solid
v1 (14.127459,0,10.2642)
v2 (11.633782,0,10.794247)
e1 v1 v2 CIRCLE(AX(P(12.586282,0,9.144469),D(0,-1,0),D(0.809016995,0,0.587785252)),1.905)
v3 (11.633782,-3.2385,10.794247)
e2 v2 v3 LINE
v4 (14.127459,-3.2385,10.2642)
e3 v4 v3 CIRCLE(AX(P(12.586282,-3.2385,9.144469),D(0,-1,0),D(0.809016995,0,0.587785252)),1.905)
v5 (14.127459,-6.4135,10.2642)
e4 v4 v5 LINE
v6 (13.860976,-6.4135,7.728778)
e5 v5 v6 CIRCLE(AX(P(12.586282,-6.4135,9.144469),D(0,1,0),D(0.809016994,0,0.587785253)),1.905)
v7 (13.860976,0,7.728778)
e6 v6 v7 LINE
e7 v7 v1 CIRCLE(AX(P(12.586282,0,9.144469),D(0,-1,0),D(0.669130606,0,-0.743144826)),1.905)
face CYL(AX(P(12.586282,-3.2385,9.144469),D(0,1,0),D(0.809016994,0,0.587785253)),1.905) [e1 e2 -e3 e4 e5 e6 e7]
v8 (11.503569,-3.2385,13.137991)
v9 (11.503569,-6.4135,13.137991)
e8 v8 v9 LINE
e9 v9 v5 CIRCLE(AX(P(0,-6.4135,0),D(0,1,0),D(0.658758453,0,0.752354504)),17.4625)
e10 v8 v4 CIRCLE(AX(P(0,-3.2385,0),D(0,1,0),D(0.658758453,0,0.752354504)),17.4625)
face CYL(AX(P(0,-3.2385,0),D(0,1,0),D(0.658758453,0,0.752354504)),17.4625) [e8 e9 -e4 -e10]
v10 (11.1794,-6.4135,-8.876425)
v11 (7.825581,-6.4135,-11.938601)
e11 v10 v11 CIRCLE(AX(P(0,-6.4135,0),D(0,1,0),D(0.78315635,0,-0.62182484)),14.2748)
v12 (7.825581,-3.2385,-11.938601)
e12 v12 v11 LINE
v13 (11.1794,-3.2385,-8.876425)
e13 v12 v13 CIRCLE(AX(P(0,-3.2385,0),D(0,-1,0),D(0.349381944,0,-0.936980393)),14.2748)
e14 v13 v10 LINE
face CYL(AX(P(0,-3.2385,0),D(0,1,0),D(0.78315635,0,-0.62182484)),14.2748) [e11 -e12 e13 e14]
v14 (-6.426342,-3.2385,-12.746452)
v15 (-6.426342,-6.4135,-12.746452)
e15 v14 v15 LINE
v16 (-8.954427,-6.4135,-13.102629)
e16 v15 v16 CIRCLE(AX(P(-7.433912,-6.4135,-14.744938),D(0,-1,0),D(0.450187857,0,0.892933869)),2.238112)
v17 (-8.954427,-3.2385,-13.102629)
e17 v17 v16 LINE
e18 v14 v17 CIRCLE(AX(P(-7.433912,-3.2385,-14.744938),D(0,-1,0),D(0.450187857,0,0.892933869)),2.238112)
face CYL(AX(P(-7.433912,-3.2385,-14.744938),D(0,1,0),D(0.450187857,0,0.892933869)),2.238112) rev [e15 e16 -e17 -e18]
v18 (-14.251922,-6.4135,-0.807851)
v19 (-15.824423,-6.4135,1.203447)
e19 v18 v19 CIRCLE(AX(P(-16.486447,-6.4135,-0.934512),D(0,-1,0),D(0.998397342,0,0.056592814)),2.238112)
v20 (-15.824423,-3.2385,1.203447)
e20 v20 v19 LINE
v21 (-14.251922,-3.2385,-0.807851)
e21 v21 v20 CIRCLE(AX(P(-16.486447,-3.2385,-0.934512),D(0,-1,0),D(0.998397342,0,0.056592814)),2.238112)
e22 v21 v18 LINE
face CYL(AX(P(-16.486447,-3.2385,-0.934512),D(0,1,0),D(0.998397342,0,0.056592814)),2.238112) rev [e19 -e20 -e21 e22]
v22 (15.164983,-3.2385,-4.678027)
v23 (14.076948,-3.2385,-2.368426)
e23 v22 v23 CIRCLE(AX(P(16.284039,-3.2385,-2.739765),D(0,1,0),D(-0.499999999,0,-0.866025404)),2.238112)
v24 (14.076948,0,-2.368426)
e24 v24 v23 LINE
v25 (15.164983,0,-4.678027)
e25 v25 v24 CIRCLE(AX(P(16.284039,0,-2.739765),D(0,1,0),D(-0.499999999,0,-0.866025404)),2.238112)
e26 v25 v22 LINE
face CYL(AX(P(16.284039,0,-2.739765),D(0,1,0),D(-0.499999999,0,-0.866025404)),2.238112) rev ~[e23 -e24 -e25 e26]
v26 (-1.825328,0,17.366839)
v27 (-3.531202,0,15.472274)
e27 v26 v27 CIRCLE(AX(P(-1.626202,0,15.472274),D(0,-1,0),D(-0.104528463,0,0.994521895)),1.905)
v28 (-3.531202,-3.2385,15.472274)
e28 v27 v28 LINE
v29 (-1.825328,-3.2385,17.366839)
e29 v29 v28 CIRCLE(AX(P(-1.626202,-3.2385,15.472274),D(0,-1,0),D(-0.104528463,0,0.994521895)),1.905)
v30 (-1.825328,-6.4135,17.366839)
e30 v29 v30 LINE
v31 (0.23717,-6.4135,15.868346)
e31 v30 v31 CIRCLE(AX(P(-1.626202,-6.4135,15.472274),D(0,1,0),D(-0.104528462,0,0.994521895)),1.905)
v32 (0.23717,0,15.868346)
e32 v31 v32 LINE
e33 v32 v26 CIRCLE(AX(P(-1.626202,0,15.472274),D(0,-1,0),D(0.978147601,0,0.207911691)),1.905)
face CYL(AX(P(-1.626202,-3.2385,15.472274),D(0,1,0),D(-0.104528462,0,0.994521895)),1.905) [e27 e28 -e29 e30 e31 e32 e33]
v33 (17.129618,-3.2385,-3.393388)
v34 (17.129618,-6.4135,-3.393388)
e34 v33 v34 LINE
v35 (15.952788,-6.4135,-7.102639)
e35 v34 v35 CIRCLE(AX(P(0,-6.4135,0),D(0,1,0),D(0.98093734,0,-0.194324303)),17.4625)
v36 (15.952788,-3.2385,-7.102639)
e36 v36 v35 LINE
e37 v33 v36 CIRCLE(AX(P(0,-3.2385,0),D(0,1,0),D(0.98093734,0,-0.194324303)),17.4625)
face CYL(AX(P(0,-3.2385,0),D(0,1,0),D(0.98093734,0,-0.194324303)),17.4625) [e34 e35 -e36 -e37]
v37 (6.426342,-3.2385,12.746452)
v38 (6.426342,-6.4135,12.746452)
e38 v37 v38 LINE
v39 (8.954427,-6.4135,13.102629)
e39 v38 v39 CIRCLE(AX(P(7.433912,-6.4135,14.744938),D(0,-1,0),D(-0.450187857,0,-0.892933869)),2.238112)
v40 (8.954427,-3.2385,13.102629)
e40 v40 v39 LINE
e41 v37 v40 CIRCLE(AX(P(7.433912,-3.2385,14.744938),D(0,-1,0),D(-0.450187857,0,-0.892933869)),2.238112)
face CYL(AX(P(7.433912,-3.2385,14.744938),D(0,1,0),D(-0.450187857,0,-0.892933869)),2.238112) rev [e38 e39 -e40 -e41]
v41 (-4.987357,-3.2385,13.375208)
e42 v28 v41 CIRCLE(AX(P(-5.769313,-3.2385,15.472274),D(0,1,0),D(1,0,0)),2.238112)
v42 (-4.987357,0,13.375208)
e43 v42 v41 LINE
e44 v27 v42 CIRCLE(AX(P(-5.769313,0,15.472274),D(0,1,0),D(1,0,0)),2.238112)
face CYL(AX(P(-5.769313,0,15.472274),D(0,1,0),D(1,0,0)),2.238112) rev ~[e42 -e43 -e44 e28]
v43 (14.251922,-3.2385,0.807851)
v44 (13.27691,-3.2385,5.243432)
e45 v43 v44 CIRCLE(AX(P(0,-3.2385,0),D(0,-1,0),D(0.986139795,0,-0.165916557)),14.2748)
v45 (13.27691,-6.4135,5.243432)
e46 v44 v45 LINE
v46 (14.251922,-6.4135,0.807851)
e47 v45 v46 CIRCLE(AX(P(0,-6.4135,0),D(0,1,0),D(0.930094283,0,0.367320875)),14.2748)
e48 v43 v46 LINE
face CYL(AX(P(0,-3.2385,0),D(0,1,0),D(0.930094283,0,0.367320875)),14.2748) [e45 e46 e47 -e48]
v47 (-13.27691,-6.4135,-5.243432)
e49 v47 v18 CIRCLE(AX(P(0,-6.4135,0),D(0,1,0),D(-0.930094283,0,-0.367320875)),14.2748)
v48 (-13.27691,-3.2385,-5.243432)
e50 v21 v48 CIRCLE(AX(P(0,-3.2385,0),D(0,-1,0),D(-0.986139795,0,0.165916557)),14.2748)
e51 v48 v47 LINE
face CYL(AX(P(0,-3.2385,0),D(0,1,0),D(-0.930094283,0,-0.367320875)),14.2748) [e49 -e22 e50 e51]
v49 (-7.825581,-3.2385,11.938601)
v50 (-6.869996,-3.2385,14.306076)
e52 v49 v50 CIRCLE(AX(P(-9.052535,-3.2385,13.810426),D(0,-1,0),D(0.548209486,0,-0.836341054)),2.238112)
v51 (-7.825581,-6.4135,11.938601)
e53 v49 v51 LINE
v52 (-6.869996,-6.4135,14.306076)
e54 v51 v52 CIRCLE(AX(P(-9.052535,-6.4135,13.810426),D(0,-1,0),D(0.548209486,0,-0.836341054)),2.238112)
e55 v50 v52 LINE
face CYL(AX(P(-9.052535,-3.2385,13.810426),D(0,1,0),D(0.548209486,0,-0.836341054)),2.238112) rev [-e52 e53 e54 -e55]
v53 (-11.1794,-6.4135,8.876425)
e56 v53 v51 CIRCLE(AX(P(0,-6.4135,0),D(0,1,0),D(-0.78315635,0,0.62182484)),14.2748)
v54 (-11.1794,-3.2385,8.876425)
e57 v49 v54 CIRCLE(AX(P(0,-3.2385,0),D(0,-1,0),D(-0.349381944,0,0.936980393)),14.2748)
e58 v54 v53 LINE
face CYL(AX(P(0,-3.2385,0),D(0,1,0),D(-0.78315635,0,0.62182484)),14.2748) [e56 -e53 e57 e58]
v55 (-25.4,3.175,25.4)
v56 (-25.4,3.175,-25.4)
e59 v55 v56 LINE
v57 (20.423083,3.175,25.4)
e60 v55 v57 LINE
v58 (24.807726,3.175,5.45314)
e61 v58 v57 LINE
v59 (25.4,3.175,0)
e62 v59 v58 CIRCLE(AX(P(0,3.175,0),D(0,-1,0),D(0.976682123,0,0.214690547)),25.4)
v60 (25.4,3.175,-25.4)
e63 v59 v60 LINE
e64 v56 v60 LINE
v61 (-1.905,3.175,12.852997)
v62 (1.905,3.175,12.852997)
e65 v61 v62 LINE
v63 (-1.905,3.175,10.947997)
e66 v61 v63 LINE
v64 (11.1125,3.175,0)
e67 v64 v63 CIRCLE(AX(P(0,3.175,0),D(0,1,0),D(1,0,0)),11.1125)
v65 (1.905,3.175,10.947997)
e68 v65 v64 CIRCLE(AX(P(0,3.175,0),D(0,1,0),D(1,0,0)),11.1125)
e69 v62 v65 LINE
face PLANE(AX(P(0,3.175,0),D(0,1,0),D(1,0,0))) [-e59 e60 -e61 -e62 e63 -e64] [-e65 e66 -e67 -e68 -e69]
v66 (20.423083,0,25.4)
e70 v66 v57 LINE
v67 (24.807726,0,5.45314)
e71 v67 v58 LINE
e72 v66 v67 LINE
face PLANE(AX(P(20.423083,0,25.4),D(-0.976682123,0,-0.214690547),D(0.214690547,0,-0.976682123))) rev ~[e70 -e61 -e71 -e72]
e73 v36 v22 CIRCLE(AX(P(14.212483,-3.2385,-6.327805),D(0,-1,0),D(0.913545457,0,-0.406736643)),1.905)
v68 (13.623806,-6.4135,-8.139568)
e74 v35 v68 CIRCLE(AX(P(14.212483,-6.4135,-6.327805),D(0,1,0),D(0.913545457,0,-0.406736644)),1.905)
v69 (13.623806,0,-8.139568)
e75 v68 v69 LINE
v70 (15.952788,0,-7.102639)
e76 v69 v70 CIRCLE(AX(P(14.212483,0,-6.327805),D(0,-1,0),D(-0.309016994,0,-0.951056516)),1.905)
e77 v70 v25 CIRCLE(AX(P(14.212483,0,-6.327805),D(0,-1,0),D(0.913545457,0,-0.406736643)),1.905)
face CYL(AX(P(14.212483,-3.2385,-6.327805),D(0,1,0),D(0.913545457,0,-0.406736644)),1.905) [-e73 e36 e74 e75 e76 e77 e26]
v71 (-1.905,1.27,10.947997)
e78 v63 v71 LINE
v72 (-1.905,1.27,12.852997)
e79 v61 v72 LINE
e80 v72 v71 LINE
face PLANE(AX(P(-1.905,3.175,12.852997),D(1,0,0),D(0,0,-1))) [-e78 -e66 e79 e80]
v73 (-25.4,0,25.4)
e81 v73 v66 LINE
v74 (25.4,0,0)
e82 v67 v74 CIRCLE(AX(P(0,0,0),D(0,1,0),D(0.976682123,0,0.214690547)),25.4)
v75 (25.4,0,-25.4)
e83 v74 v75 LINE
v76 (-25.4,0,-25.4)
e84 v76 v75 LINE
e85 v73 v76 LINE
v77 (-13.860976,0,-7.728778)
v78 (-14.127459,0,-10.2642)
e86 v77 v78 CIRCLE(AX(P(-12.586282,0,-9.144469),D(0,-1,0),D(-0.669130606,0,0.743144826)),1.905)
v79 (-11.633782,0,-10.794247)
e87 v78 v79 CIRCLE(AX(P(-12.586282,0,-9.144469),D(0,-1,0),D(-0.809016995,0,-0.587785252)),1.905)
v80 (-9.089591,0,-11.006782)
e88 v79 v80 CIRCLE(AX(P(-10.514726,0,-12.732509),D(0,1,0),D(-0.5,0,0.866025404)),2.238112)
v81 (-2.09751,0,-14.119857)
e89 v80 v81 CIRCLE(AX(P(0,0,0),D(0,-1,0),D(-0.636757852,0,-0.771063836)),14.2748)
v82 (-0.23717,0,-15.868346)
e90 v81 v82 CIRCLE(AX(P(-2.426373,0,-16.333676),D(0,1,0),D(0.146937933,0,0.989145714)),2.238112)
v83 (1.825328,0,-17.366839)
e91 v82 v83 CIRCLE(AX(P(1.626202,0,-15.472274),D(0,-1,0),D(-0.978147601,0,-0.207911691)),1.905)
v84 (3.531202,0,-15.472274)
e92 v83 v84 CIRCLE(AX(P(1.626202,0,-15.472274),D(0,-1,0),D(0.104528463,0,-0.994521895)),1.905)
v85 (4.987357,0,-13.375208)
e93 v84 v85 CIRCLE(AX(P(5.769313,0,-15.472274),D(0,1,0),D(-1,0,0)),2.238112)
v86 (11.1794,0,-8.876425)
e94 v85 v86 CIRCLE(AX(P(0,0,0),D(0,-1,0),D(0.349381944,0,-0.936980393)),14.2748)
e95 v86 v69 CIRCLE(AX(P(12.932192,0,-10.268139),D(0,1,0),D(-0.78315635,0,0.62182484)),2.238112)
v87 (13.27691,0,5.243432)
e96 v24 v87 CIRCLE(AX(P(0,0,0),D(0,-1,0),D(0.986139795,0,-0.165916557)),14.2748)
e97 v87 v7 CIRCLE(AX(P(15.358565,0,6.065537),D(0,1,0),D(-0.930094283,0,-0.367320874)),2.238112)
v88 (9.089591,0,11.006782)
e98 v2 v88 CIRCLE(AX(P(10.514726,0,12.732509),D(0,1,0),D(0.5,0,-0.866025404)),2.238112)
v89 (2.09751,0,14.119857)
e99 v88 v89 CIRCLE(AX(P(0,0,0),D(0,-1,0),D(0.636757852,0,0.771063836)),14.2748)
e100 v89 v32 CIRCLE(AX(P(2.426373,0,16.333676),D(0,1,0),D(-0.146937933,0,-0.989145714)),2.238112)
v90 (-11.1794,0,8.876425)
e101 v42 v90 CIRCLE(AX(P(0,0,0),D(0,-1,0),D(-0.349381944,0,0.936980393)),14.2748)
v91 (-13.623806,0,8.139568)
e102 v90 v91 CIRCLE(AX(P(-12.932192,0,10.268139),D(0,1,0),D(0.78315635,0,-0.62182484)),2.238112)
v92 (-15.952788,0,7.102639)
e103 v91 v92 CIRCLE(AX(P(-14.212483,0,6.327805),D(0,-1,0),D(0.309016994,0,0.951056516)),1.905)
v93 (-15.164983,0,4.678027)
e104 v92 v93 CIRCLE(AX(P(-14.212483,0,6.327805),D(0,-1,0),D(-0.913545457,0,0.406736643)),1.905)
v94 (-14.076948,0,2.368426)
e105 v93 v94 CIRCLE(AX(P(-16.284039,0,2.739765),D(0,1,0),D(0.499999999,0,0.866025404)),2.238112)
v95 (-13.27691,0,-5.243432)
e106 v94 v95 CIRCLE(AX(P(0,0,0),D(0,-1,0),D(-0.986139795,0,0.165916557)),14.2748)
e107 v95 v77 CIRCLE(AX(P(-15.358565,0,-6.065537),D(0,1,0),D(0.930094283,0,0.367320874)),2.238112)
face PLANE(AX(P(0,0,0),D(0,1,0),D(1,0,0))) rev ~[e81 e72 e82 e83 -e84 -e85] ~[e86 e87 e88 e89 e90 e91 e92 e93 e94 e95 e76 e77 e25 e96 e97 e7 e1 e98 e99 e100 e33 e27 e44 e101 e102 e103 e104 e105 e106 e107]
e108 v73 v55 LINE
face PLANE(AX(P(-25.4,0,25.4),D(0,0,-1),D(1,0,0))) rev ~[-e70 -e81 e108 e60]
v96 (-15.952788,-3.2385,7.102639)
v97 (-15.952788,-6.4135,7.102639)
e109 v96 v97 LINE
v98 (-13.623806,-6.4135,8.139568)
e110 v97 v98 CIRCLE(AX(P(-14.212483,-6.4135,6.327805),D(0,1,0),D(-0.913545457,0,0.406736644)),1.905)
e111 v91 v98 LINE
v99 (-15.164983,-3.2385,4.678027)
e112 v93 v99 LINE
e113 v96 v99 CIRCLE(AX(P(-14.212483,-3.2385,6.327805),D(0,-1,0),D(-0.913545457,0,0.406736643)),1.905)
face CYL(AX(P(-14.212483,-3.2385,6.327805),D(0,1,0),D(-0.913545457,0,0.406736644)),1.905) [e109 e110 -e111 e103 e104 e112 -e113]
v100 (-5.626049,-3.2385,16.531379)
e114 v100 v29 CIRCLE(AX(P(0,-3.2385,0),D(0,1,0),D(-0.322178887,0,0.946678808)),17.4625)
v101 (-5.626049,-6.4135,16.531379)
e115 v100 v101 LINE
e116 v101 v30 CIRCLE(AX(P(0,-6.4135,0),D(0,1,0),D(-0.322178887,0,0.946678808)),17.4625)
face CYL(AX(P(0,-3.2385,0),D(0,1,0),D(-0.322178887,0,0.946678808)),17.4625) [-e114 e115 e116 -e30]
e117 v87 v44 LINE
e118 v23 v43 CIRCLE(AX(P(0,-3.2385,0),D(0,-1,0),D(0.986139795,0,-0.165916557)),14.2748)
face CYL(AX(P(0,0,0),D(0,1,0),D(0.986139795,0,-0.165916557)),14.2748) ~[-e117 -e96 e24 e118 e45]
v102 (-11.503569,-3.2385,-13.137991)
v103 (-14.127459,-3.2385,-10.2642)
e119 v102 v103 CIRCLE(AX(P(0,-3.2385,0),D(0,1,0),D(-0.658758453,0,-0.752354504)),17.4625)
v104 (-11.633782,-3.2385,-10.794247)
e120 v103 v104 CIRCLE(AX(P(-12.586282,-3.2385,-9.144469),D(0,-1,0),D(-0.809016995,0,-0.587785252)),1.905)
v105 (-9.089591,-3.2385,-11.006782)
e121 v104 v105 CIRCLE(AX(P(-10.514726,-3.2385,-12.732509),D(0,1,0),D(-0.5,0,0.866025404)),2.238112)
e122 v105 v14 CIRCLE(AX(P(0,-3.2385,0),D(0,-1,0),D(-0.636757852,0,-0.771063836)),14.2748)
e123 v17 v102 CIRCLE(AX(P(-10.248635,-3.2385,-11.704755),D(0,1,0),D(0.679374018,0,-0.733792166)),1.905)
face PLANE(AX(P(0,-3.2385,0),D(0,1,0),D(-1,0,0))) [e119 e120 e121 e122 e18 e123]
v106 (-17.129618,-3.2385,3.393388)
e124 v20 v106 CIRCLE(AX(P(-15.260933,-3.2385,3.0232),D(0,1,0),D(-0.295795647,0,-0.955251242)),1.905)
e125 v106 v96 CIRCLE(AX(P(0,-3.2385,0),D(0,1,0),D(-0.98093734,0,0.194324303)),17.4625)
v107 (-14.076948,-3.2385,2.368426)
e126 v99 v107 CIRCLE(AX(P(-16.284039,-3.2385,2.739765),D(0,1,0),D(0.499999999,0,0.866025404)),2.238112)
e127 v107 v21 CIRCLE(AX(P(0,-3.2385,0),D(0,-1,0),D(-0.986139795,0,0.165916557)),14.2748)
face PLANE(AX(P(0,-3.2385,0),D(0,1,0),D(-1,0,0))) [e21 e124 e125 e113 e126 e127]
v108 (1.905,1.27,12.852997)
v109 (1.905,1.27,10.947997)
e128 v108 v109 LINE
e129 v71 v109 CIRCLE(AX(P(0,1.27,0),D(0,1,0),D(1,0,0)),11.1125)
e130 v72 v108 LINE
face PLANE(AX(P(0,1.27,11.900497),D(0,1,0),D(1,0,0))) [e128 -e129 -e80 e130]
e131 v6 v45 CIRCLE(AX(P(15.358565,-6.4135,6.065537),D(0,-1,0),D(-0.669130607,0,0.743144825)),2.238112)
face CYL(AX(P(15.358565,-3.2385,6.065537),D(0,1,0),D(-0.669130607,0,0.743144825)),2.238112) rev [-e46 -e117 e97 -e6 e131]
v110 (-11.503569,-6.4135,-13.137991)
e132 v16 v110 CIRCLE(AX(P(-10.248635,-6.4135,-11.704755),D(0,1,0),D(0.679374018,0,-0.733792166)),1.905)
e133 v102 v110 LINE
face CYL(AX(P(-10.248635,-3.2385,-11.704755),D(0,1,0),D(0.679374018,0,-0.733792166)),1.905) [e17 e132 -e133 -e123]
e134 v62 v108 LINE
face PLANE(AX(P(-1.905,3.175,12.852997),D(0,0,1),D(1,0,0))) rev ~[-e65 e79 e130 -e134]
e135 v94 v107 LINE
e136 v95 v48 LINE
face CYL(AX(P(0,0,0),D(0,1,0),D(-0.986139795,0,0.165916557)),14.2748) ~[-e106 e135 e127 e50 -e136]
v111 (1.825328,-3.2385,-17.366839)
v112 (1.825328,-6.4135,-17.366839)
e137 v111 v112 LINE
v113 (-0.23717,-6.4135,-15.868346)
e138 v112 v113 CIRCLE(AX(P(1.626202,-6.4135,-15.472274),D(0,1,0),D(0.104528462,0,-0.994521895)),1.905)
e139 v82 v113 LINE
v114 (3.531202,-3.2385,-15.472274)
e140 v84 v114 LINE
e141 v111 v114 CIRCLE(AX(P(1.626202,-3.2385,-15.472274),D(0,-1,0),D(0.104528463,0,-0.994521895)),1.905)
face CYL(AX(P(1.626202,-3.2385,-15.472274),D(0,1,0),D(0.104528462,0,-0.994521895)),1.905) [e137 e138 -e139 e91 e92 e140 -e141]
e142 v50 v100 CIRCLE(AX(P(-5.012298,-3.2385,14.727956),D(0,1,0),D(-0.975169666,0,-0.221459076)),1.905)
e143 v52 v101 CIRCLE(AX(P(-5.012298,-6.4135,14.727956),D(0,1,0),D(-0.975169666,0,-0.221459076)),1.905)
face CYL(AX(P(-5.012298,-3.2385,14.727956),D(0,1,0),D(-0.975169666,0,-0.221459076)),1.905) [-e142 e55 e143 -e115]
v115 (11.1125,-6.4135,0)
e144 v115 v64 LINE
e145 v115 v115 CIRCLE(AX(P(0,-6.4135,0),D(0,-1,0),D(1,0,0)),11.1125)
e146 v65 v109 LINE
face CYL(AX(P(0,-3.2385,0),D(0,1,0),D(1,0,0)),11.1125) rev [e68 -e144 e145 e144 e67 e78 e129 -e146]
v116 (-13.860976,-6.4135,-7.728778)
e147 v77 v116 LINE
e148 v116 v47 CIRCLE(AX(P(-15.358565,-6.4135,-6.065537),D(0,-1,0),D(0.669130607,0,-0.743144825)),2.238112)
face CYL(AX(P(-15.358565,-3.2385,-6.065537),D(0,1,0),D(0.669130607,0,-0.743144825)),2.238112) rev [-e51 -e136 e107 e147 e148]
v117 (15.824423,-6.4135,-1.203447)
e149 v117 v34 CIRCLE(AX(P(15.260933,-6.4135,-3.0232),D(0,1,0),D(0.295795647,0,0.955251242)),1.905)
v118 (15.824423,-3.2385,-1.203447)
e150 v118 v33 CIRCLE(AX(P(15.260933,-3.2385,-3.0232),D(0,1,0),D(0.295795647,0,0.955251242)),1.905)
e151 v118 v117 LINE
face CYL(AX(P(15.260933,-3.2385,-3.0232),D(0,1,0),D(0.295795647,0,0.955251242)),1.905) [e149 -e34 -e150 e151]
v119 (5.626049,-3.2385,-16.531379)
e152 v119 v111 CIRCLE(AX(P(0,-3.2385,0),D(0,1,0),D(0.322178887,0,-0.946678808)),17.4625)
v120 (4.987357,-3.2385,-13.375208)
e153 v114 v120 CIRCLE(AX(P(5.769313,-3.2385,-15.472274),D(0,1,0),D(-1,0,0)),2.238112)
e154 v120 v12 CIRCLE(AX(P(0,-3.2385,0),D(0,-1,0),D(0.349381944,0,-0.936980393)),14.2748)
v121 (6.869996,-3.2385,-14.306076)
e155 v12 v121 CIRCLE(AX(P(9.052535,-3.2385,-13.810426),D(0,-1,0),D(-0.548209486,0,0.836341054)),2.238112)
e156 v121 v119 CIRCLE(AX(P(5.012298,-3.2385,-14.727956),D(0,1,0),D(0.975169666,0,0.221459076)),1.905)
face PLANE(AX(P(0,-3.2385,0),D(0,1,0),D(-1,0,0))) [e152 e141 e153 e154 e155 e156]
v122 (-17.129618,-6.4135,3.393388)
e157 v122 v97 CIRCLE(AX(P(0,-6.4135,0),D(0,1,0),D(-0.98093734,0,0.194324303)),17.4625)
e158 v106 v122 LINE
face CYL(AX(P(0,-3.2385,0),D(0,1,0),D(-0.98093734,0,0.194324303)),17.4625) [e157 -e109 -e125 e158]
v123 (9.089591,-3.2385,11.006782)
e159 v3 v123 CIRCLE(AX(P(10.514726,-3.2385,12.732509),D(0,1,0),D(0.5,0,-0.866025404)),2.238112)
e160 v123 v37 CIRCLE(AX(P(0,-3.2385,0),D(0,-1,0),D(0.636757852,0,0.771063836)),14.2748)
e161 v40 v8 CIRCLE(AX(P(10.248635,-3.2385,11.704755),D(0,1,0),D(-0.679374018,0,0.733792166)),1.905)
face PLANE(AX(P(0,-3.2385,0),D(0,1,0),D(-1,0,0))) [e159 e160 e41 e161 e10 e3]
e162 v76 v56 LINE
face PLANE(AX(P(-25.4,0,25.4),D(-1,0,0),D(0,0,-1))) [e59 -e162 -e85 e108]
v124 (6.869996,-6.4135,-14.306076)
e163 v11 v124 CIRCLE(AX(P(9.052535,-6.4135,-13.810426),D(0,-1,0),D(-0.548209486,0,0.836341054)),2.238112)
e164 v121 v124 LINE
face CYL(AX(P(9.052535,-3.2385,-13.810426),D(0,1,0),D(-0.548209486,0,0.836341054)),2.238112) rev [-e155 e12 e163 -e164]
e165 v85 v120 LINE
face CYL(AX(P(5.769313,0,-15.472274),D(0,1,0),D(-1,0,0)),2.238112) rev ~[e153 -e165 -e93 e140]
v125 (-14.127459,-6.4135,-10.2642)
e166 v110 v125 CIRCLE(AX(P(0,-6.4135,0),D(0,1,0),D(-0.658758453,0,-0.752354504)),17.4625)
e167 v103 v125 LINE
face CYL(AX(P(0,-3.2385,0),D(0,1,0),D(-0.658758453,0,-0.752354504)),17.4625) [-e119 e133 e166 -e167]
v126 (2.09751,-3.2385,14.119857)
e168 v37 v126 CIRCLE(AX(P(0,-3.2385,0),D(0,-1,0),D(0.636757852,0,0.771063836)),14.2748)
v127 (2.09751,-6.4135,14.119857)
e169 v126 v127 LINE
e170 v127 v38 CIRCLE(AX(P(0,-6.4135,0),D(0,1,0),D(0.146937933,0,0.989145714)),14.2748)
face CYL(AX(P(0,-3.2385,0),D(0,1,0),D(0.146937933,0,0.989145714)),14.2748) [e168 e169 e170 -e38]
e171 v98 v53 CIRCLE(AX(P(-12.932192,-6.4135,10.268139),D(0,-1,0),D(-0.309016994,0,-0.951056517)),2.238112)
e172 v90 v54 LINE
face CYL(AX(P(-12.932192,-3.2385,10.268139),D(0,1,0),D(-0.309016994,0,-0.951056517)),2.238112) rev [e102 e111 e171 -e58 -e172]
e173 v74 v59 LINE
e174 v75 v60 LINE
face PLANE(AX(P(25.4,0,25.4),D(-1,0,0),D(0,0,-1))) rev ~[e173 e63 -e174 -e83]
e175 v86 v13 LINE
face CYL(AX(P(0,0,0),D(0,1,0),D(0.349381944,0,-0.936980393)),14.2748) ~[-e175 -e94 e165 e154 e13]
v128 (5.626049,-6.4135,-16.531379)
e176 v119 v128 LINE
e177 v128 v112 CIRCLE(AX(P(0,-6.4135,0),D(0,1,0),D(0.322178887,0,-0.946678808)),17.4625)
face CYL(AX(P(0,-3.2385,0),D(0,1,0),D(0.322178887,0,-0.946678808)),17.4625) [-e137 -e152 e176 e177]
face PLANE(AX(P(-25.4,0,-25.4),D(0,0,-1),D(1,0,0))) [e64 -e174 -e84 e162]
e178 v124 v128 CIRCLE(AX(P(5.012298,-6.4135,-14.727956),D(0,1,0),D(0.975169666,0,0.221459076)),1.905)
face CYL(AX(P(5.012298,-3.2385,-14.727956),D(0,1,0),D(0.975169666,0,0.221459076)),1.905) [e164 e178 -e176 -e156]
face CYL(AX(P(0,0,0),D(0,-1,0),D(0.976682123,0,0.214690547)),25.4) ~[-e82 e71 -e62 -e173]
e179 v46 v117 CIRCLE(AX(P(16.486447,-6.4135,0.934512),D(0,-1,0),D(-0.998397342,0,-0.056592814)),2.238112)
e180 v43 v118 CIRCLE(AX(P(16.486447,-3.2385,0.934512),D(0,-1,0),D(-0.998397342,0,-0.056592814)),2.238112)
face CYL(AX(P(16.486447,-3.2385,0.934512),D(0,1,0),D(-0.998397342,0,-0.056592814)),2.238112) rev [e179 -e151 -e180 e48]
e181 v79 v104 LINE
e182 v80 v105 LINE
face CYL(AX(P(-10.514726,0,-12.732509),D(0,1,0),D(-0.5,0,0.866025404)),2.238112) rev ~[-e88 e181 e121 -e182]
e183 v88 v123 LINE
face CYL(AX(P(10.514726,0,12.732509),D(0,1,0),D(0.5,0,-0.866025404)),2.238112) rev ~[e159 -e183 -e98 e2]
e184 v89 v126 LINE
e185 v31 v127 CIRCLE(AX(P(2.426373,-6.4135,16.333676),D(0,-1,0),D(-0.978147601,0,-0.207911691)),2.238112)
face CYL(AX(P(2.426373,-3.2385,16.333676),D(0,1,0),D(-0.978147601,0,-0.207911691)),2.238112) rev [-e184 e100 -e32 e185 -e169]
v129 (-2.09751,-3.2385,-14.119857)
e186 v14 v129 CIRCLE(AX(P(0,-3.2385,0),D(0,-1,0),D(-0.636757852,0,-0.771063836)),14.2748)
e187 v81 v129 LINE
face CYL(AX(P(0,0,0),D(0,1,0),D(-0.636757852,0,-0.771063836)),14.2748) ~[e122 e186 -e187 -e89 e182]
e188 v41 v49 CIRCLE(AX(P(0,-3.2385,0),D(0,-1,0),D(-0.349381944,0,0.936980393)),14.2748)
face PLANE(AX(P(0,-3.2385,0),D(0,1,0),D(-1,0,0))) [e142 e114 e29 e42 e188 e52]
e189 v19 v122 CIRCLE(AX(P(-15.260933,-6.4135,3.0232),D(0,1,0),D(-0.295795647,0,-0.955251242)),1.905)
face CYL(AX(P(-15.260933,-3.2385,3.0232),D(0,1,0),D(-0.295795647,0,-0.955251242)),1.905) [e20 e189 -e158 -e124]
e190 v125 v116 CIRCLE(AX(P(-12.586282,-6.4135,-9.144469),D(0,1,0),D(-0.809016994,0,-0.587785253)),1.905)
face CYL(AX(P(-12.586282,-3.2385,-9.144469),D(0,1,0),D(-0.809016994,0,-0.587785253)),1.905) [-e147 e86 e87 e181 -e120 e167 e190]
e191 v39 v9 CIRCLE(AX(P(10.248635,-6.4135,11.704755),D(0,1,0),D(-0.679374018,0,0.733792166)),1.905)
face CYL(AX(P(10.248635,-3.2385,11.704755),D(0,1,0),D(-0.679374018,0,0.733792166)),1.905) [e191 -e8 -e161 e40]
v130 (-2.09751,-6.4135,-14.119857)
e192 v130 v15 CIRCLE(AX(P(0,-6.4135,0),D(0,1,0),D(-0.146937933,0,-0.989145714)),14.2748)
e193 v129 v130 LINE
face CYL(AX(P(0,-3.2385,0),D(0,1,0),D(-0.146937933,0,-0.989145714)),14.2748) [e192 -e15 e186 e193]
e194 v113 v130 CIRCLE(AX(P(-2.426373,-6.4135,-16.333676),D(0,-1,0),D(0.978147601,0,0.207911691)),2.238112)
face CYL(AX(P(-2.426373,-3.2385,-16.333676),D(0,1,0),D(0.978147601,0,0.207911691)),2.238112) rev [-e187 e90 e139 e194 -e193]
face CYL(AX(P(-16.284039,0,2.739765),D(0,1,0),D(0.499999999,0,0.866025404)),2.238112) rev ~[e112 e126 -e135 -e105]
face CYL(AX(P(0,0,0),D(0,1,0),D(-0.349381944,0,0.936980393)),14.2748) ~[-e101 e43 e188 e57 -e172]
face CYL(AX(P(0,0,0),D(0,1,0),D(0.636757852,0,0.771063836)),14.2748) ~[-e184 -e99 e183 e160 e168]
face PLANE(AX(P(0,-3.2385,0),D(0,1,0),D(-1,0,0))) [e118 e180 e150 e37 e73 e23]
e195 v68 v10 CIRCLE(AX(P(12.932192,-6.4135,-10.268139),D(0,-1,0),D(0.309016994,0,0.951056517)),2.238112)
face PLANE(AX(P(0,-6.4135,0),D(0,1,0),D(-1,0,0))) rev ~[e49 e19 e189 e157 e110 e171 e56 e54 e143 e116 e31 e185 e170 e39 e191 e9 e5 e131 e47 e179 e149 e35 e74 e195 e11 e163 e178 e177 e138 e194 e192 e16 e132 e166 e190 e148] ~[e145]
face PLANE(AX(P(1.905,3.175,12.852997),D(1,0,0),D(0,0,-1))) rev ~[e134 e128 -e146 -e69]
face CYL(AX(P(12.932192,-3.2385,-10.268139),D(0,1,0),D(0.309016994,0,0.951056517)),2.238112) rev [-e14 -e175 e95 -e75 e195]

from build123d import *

# Parameters (mm, degrees)
SKETCH1_W           = 50.8
SKETCH1_H           = 50.8
SKETCH1_R           = 11.1125
BOSS_EXTRUDE1_DEPTH = 3.175
SKETCH2_R           = 11.1125
BOSS_EXTRUDE2_DEPTH = 3.2385
SKETCH3_R           = 11.1125
BOSS_EXTRUDE3_DEPTH = 3.175
SKETCH4_W           = 3.81
SKETCH4_H           = 1.905
CUT_EXTRUDE1_DEPTH  = 1.905
CUT_EXTRUDE2_DEPTH  = 4.175


with BuildPart() as part:
    # Sketch1 → Boss-Extrude1 (new body)
    with BuildSketch(Plane(origin=(0, 0, 0), x_dir=(1, 0, 0), z_dir=(0, 1, 0))):
        Rectangle(SKETCH1_W, SKETCH1_H)
        Circle(SKETCH1_R, mode=Mode.SUBTRACT)
    extrude(amount=BOSS_EXTRUDE1_DEPTH)

    # Sketch2 → Boss-Extrude2 (add)
    with BuildSketch(Plane.XZ):
        with BuildLine():
            ThreePointArc((-14.076948351, 2.368425674), (-14.196601152, -1.492122907), (-13.276909868, -5.243432024))
            ThreePointArc((-13.276909868, -5.243432024), (-13.179807483, -6.577553377), (-13.860975695, -7.72877817))
            ThreePointArc((-13.860975695, -7.72877817), (-14.480846101, -8.94534234), (-14.127459264, -10.264199968))
            ThreePointArc((-14.127459264, -10.264199968), (-12.982353661, -11.007840242), (-11.63378189, -10.794247457))
            ThreePointArc((-11.63378189, -10.794247457), (-10.328409495, -10.502166015), (-9.089590976, -11.006782042))
            ThreePointArc((-9.089590976, -11.006782042), (-5.806084233, -13.040678699), (-2.097509598, -14.119857242))
            ThreePointArc((-2.097509598, -14.119857242), (-0.893575422, -14.702824786), (-0.237169612, -15.868346158))
            ThreePointArc((-0.237169612, -15.868346158), (0.506470662, -17.013451761), (1.82532829, -17.366838598))
            ThreePointArc((1.82532829, -17.366838598), (3.04189246, -16.746968192), (3.531201567, -15.472274387))
            ThreePointArc((3.531201567, -15.472274387), (3.930937816, -14.195748011), (4.987357374, -13.375207717))
            ThreePointArc((4.987357374, -13.375207717), (8.390516919, -11.548555791), (11.17940027, -8.876425218))
            ThreePointArc((11.17940027, -8.876425218), (12.286232061, -8.125271409), (13.623806083, -8.139567988))
            ThreePointArc((13.623806083, -8.139567988), (14.987316762, -8.068109421), (15.952787554, -7.10263863))
            ThreePointArc((15.952787554, -7.10263863), (16.024246121, -5.73912795), (15.164983457, -4.67802693))
            ThreePointArc((15.164983457, -4.67802693), (14.259347311, -3.693581996), (14.076948351, -2.368425674))
            ThreePointArc((14.076948351, -2.368425674), (14.196601152, 1.492122907), (13.276909868, 5.243432024))
            ThreePointArc((13.276909868, 5.243432024), (13.179807483, 6.577553377), (13.860975695, 7.72877817))
            ThreePointArc((13.860975695, 7.72877817), (14.480846101, 8.94534234), (14.127459264, 10.264199968))
            ThreePointArc((14.127459264, 10.264199968), (12.982353661, 11.007840242), (11.63378189, 10.794247457))
            ThreePointArc((11.63378189, 10.794247457), (10.328409495, 10.502166015), (9.089590976, 11.006782042))
            ThreePointArc((9.089590976, 11.006782042), (5.806084233, 13.040678699), (2.097509598, 14.119857242))
            ThreePointArc((2.097509598, 14.119857242), (0.893575422, 14.702824786), (0.237169612, 15.868346158))
            ThreePointArc((0.237169612, 15.868346158), (-0.506470662, 17.013451761), (-1.82532829, 17.366838598))
            ThreePointArc((-1.82532829, 17.366838598), (-3.04189246, 16.746968192), (-3.531201567, 15.472274387))
            ThreePointArc((-3.531201567, 15.472274387), (-3.930937816, 14.195748011), (-4.987357374, 13.375207717))
            ThreePointArc((-4.987357374, 13.375207717), (-8.390516919, 11.548555791), (-11.17940027, 8.876425218))
            ThreePointArc((-11.17940027, 8.876425218), (-12.286232061, 8.125271409), (-13.623806083, 8.139567988))
            ThreePointArc((-13.623806083, 8.139567988), (-14.987316762, 8.068109421), (-15.952787554, 7.10263863))
            ThreePointArc((-15.952787554, 7.10263863), (-16.024246121, 5.73912795), (-15.164983457, 4.67802693))
            ThreePointArc((-15.164983457, 4.67802693), (-14.259347311, 3.693581996), (-14.076948351, 2.368425674))
        make_face()
        Circle(SKETCH2_R, mode=Mode.SUBTRACT)
    extrude(amount=BOSS_EXTRUDE2_DEPTH)

    # Sketch3 → Boss-Extrude3 (add)
    with BuildSketch(Plane.XZ.offset(3.2385)):
        with BuildLine():
            ThreePointArc((-13.623806083, 8.139567988), (-12.286232061, 8.125271409), (-11.17940027, 8.876425218))
            ThreePointArc((-11.17940027, 8.876425218), (-9.625048397, 10.541743612), (-7.82558077, 11.938601285))
            ThreePointArc((-7.82558077, 11.938601285), (-6.977108558, 12.97272099), (-6.869996245, 14.30607601))
            ThreePointArc((-6.869996245, 14.30607601), (-6.675129359, 15.657480685), (-5.626048811, 16.531378679))
            ThreePointArc((-5.626048811, 16.531378679), (-3.749033675, 17.05531157), (-1.82532829, 17.366838598))
            ThreePointArc((-1.82532829, 17.366838598), (-0.506470662, 17.013451761), (0.237169612, 15.868346158))
            ThreePointArc((0.237169612, 15.868346158), (0.893575422, 14.702824786), (2.097509598, 14.119857242))
            ThreePointArc((2.097509598, 14.119857242), (4.31689357, 13.606408231), (6.426341614, 12.746452389))
            ThreePointArc((6.426341614, 12.746452389), (7.746151654, 12.528713751), (8.954427131, 13.102629278))
            ThreePointArc((8.954427131, 13.102629278), (10.222211353, 13.609571941), (11.50356949, 13.137990533))
            ThreePointArc((11.50356949, 13.137990533), (12.895816252, 11.774414187), (14.127459264, 10.264199968))
            ThreePointArc((14.127459264, 10.264199968), (14.480846101, 8.94534234), (13.860975695, 7.72877817))
            ThreePointArc((13.860975695, 7.72877817), (13.179807483, 6.577553377), (13.276909868, 5.243432024))
            ThreePointArc((13.276909868, 5.243432024), (13.941941967, 3.064664618), (14.251922384, 0.807851103))
            ThreePointArc((14.251922384, 0.807851103), (14.723260212, -0.444007239), (15.824423376, -1.203446733))
            ThreePointArc((15.824423376, -1.203446733), (16.897340712, -2.047908744), (17.129618301, -3.393388146))
            ThreePointArc((17.129618301, -3.393388146), (16.644849927, -5.280897383), (15.952787554, -7.10263863))
            ThreePointArc((15.952787554, -7.10263863), (14.987316762, -8.068109421), (13.623806083, -8.139567988))
            ThreePointArc((13.623806083, -8.139567988), (12.286232061, -8.125271409), (11.17940027, -8.876425218))
            ThreePointArc((11.17940027, -8.876425218), (9.625048397, -10.541743612), (7.82558077, -11.938601285))
            ThreePointArc((7.82558077, -11.938601285), (6.977108558, -12.97272099), (6.869996245, -14.30607601))
            ThreePointArc((6.869996245, -14.30607601), (6.675129359, -15.657480685), (5.626048811, -16.531378679))
            ThreePointArc((5.626048811, -16.531378679), (3.749033675, -17.05531157), (1.82532829, -17.366838598))
            ThreePointArc((1.82532829, -17.366838598), (0.506470662, -17.013451761), (-0.237169612, -15.868346158))
            ThreePointArc((-0.237169612, -15.868346158), (-0.893575422, -14.702824786), (-2.097509598, -14.119857242))
            ThreePointArc((-2.097509598, -14.119857242), (-4.31689357, -13.606408231), (-6.426341614, -12.746452389))
            ThreePointArc((-6.426341614, -12.746452389), (-7.746151654, -12.528713751), (-8.954427131, -13.102629278))
            ThreePointArc((-8.954427131, -13.102629278), (-10.222211353, -13.609571941), (-11.50356949, -13.137990533))
            ThreePointArc((-11.50356949, -13.137990533), (-12.895816252, -11.774414187), (-14.127459264, -10.264199968))
            ThreePointArc((-14.127459264, -10.264199968), (-14.480846101, -8.94534234), (-13.860975695, -7.72877817))
            ThreePointArc((-13.860975695, -7.72877817), (-13.179807483, -6.577553377), (-13.276909868, -5.243432024))
            ThreePointArc((-13.276909868, -5.243432024), (-13.941941967, -3.064664618), (-14.251922384, -0.807851103))
            ThreePointArc((-14.251922384, -0.807851103), (-14.723260212, 0.444007239), (-15.824423376, 1.203446733))
            ThreePointArc((-15.824423376, 1.203446733), (-16.897340712, 2.047908744), (-17.129618301, 3.393388146))
            ThreePointArc((-17.129618301, 3.393388146), (-16.644849927, 5.280897383), (-15.952787554, 7.10263863))
            ThreePointArc((-15.952787554, 7.10263863), (-14.987316762, 8.068109421), (-13.623806083, 8.139567988))
        make_face()
        Circle(SKETCH3_R, mode=Mode.SUBTRACT)
    extrude(amount=BOSS_EXTRUDE3_DEPTH)

    # Sketch4 → Cut-Extrude1 (cut)
    with BuildSketch(Plane(origin=(0, 3.175, 0), x_dir=(1, 0, 0), z_dir=(0, 1, 0))):
        with Locations((0, -11.900496677)):
            Rectangle(SKETCH4_W, SKETCH4_H)
    extrude(amount=-CUT_EXTRUDE1_DEPTH, mode=Mode.SUBTRACT)

    # Sketch5 → Cut-Extrude2 (cut, through all)
    with BuildSketch(Plane.XZ):
        with BuildLine():
            Line((20.423083051, 25.4), (24.80772592, 5.45313989))
            ThreePointArc((24.80772592, 5.45313989), (25.251497365, 2.74260475), (25.4, 0))
            Line((25.4, 0), (25.4, 25.4))
            Line((25.4, 25.4), (20.423083051, 25.4))
        make_face()
    extrude(amount=-CUT_EXTRUDE2_DEPTH, mode=Mode.SUBTRACT)


solid = part.part
